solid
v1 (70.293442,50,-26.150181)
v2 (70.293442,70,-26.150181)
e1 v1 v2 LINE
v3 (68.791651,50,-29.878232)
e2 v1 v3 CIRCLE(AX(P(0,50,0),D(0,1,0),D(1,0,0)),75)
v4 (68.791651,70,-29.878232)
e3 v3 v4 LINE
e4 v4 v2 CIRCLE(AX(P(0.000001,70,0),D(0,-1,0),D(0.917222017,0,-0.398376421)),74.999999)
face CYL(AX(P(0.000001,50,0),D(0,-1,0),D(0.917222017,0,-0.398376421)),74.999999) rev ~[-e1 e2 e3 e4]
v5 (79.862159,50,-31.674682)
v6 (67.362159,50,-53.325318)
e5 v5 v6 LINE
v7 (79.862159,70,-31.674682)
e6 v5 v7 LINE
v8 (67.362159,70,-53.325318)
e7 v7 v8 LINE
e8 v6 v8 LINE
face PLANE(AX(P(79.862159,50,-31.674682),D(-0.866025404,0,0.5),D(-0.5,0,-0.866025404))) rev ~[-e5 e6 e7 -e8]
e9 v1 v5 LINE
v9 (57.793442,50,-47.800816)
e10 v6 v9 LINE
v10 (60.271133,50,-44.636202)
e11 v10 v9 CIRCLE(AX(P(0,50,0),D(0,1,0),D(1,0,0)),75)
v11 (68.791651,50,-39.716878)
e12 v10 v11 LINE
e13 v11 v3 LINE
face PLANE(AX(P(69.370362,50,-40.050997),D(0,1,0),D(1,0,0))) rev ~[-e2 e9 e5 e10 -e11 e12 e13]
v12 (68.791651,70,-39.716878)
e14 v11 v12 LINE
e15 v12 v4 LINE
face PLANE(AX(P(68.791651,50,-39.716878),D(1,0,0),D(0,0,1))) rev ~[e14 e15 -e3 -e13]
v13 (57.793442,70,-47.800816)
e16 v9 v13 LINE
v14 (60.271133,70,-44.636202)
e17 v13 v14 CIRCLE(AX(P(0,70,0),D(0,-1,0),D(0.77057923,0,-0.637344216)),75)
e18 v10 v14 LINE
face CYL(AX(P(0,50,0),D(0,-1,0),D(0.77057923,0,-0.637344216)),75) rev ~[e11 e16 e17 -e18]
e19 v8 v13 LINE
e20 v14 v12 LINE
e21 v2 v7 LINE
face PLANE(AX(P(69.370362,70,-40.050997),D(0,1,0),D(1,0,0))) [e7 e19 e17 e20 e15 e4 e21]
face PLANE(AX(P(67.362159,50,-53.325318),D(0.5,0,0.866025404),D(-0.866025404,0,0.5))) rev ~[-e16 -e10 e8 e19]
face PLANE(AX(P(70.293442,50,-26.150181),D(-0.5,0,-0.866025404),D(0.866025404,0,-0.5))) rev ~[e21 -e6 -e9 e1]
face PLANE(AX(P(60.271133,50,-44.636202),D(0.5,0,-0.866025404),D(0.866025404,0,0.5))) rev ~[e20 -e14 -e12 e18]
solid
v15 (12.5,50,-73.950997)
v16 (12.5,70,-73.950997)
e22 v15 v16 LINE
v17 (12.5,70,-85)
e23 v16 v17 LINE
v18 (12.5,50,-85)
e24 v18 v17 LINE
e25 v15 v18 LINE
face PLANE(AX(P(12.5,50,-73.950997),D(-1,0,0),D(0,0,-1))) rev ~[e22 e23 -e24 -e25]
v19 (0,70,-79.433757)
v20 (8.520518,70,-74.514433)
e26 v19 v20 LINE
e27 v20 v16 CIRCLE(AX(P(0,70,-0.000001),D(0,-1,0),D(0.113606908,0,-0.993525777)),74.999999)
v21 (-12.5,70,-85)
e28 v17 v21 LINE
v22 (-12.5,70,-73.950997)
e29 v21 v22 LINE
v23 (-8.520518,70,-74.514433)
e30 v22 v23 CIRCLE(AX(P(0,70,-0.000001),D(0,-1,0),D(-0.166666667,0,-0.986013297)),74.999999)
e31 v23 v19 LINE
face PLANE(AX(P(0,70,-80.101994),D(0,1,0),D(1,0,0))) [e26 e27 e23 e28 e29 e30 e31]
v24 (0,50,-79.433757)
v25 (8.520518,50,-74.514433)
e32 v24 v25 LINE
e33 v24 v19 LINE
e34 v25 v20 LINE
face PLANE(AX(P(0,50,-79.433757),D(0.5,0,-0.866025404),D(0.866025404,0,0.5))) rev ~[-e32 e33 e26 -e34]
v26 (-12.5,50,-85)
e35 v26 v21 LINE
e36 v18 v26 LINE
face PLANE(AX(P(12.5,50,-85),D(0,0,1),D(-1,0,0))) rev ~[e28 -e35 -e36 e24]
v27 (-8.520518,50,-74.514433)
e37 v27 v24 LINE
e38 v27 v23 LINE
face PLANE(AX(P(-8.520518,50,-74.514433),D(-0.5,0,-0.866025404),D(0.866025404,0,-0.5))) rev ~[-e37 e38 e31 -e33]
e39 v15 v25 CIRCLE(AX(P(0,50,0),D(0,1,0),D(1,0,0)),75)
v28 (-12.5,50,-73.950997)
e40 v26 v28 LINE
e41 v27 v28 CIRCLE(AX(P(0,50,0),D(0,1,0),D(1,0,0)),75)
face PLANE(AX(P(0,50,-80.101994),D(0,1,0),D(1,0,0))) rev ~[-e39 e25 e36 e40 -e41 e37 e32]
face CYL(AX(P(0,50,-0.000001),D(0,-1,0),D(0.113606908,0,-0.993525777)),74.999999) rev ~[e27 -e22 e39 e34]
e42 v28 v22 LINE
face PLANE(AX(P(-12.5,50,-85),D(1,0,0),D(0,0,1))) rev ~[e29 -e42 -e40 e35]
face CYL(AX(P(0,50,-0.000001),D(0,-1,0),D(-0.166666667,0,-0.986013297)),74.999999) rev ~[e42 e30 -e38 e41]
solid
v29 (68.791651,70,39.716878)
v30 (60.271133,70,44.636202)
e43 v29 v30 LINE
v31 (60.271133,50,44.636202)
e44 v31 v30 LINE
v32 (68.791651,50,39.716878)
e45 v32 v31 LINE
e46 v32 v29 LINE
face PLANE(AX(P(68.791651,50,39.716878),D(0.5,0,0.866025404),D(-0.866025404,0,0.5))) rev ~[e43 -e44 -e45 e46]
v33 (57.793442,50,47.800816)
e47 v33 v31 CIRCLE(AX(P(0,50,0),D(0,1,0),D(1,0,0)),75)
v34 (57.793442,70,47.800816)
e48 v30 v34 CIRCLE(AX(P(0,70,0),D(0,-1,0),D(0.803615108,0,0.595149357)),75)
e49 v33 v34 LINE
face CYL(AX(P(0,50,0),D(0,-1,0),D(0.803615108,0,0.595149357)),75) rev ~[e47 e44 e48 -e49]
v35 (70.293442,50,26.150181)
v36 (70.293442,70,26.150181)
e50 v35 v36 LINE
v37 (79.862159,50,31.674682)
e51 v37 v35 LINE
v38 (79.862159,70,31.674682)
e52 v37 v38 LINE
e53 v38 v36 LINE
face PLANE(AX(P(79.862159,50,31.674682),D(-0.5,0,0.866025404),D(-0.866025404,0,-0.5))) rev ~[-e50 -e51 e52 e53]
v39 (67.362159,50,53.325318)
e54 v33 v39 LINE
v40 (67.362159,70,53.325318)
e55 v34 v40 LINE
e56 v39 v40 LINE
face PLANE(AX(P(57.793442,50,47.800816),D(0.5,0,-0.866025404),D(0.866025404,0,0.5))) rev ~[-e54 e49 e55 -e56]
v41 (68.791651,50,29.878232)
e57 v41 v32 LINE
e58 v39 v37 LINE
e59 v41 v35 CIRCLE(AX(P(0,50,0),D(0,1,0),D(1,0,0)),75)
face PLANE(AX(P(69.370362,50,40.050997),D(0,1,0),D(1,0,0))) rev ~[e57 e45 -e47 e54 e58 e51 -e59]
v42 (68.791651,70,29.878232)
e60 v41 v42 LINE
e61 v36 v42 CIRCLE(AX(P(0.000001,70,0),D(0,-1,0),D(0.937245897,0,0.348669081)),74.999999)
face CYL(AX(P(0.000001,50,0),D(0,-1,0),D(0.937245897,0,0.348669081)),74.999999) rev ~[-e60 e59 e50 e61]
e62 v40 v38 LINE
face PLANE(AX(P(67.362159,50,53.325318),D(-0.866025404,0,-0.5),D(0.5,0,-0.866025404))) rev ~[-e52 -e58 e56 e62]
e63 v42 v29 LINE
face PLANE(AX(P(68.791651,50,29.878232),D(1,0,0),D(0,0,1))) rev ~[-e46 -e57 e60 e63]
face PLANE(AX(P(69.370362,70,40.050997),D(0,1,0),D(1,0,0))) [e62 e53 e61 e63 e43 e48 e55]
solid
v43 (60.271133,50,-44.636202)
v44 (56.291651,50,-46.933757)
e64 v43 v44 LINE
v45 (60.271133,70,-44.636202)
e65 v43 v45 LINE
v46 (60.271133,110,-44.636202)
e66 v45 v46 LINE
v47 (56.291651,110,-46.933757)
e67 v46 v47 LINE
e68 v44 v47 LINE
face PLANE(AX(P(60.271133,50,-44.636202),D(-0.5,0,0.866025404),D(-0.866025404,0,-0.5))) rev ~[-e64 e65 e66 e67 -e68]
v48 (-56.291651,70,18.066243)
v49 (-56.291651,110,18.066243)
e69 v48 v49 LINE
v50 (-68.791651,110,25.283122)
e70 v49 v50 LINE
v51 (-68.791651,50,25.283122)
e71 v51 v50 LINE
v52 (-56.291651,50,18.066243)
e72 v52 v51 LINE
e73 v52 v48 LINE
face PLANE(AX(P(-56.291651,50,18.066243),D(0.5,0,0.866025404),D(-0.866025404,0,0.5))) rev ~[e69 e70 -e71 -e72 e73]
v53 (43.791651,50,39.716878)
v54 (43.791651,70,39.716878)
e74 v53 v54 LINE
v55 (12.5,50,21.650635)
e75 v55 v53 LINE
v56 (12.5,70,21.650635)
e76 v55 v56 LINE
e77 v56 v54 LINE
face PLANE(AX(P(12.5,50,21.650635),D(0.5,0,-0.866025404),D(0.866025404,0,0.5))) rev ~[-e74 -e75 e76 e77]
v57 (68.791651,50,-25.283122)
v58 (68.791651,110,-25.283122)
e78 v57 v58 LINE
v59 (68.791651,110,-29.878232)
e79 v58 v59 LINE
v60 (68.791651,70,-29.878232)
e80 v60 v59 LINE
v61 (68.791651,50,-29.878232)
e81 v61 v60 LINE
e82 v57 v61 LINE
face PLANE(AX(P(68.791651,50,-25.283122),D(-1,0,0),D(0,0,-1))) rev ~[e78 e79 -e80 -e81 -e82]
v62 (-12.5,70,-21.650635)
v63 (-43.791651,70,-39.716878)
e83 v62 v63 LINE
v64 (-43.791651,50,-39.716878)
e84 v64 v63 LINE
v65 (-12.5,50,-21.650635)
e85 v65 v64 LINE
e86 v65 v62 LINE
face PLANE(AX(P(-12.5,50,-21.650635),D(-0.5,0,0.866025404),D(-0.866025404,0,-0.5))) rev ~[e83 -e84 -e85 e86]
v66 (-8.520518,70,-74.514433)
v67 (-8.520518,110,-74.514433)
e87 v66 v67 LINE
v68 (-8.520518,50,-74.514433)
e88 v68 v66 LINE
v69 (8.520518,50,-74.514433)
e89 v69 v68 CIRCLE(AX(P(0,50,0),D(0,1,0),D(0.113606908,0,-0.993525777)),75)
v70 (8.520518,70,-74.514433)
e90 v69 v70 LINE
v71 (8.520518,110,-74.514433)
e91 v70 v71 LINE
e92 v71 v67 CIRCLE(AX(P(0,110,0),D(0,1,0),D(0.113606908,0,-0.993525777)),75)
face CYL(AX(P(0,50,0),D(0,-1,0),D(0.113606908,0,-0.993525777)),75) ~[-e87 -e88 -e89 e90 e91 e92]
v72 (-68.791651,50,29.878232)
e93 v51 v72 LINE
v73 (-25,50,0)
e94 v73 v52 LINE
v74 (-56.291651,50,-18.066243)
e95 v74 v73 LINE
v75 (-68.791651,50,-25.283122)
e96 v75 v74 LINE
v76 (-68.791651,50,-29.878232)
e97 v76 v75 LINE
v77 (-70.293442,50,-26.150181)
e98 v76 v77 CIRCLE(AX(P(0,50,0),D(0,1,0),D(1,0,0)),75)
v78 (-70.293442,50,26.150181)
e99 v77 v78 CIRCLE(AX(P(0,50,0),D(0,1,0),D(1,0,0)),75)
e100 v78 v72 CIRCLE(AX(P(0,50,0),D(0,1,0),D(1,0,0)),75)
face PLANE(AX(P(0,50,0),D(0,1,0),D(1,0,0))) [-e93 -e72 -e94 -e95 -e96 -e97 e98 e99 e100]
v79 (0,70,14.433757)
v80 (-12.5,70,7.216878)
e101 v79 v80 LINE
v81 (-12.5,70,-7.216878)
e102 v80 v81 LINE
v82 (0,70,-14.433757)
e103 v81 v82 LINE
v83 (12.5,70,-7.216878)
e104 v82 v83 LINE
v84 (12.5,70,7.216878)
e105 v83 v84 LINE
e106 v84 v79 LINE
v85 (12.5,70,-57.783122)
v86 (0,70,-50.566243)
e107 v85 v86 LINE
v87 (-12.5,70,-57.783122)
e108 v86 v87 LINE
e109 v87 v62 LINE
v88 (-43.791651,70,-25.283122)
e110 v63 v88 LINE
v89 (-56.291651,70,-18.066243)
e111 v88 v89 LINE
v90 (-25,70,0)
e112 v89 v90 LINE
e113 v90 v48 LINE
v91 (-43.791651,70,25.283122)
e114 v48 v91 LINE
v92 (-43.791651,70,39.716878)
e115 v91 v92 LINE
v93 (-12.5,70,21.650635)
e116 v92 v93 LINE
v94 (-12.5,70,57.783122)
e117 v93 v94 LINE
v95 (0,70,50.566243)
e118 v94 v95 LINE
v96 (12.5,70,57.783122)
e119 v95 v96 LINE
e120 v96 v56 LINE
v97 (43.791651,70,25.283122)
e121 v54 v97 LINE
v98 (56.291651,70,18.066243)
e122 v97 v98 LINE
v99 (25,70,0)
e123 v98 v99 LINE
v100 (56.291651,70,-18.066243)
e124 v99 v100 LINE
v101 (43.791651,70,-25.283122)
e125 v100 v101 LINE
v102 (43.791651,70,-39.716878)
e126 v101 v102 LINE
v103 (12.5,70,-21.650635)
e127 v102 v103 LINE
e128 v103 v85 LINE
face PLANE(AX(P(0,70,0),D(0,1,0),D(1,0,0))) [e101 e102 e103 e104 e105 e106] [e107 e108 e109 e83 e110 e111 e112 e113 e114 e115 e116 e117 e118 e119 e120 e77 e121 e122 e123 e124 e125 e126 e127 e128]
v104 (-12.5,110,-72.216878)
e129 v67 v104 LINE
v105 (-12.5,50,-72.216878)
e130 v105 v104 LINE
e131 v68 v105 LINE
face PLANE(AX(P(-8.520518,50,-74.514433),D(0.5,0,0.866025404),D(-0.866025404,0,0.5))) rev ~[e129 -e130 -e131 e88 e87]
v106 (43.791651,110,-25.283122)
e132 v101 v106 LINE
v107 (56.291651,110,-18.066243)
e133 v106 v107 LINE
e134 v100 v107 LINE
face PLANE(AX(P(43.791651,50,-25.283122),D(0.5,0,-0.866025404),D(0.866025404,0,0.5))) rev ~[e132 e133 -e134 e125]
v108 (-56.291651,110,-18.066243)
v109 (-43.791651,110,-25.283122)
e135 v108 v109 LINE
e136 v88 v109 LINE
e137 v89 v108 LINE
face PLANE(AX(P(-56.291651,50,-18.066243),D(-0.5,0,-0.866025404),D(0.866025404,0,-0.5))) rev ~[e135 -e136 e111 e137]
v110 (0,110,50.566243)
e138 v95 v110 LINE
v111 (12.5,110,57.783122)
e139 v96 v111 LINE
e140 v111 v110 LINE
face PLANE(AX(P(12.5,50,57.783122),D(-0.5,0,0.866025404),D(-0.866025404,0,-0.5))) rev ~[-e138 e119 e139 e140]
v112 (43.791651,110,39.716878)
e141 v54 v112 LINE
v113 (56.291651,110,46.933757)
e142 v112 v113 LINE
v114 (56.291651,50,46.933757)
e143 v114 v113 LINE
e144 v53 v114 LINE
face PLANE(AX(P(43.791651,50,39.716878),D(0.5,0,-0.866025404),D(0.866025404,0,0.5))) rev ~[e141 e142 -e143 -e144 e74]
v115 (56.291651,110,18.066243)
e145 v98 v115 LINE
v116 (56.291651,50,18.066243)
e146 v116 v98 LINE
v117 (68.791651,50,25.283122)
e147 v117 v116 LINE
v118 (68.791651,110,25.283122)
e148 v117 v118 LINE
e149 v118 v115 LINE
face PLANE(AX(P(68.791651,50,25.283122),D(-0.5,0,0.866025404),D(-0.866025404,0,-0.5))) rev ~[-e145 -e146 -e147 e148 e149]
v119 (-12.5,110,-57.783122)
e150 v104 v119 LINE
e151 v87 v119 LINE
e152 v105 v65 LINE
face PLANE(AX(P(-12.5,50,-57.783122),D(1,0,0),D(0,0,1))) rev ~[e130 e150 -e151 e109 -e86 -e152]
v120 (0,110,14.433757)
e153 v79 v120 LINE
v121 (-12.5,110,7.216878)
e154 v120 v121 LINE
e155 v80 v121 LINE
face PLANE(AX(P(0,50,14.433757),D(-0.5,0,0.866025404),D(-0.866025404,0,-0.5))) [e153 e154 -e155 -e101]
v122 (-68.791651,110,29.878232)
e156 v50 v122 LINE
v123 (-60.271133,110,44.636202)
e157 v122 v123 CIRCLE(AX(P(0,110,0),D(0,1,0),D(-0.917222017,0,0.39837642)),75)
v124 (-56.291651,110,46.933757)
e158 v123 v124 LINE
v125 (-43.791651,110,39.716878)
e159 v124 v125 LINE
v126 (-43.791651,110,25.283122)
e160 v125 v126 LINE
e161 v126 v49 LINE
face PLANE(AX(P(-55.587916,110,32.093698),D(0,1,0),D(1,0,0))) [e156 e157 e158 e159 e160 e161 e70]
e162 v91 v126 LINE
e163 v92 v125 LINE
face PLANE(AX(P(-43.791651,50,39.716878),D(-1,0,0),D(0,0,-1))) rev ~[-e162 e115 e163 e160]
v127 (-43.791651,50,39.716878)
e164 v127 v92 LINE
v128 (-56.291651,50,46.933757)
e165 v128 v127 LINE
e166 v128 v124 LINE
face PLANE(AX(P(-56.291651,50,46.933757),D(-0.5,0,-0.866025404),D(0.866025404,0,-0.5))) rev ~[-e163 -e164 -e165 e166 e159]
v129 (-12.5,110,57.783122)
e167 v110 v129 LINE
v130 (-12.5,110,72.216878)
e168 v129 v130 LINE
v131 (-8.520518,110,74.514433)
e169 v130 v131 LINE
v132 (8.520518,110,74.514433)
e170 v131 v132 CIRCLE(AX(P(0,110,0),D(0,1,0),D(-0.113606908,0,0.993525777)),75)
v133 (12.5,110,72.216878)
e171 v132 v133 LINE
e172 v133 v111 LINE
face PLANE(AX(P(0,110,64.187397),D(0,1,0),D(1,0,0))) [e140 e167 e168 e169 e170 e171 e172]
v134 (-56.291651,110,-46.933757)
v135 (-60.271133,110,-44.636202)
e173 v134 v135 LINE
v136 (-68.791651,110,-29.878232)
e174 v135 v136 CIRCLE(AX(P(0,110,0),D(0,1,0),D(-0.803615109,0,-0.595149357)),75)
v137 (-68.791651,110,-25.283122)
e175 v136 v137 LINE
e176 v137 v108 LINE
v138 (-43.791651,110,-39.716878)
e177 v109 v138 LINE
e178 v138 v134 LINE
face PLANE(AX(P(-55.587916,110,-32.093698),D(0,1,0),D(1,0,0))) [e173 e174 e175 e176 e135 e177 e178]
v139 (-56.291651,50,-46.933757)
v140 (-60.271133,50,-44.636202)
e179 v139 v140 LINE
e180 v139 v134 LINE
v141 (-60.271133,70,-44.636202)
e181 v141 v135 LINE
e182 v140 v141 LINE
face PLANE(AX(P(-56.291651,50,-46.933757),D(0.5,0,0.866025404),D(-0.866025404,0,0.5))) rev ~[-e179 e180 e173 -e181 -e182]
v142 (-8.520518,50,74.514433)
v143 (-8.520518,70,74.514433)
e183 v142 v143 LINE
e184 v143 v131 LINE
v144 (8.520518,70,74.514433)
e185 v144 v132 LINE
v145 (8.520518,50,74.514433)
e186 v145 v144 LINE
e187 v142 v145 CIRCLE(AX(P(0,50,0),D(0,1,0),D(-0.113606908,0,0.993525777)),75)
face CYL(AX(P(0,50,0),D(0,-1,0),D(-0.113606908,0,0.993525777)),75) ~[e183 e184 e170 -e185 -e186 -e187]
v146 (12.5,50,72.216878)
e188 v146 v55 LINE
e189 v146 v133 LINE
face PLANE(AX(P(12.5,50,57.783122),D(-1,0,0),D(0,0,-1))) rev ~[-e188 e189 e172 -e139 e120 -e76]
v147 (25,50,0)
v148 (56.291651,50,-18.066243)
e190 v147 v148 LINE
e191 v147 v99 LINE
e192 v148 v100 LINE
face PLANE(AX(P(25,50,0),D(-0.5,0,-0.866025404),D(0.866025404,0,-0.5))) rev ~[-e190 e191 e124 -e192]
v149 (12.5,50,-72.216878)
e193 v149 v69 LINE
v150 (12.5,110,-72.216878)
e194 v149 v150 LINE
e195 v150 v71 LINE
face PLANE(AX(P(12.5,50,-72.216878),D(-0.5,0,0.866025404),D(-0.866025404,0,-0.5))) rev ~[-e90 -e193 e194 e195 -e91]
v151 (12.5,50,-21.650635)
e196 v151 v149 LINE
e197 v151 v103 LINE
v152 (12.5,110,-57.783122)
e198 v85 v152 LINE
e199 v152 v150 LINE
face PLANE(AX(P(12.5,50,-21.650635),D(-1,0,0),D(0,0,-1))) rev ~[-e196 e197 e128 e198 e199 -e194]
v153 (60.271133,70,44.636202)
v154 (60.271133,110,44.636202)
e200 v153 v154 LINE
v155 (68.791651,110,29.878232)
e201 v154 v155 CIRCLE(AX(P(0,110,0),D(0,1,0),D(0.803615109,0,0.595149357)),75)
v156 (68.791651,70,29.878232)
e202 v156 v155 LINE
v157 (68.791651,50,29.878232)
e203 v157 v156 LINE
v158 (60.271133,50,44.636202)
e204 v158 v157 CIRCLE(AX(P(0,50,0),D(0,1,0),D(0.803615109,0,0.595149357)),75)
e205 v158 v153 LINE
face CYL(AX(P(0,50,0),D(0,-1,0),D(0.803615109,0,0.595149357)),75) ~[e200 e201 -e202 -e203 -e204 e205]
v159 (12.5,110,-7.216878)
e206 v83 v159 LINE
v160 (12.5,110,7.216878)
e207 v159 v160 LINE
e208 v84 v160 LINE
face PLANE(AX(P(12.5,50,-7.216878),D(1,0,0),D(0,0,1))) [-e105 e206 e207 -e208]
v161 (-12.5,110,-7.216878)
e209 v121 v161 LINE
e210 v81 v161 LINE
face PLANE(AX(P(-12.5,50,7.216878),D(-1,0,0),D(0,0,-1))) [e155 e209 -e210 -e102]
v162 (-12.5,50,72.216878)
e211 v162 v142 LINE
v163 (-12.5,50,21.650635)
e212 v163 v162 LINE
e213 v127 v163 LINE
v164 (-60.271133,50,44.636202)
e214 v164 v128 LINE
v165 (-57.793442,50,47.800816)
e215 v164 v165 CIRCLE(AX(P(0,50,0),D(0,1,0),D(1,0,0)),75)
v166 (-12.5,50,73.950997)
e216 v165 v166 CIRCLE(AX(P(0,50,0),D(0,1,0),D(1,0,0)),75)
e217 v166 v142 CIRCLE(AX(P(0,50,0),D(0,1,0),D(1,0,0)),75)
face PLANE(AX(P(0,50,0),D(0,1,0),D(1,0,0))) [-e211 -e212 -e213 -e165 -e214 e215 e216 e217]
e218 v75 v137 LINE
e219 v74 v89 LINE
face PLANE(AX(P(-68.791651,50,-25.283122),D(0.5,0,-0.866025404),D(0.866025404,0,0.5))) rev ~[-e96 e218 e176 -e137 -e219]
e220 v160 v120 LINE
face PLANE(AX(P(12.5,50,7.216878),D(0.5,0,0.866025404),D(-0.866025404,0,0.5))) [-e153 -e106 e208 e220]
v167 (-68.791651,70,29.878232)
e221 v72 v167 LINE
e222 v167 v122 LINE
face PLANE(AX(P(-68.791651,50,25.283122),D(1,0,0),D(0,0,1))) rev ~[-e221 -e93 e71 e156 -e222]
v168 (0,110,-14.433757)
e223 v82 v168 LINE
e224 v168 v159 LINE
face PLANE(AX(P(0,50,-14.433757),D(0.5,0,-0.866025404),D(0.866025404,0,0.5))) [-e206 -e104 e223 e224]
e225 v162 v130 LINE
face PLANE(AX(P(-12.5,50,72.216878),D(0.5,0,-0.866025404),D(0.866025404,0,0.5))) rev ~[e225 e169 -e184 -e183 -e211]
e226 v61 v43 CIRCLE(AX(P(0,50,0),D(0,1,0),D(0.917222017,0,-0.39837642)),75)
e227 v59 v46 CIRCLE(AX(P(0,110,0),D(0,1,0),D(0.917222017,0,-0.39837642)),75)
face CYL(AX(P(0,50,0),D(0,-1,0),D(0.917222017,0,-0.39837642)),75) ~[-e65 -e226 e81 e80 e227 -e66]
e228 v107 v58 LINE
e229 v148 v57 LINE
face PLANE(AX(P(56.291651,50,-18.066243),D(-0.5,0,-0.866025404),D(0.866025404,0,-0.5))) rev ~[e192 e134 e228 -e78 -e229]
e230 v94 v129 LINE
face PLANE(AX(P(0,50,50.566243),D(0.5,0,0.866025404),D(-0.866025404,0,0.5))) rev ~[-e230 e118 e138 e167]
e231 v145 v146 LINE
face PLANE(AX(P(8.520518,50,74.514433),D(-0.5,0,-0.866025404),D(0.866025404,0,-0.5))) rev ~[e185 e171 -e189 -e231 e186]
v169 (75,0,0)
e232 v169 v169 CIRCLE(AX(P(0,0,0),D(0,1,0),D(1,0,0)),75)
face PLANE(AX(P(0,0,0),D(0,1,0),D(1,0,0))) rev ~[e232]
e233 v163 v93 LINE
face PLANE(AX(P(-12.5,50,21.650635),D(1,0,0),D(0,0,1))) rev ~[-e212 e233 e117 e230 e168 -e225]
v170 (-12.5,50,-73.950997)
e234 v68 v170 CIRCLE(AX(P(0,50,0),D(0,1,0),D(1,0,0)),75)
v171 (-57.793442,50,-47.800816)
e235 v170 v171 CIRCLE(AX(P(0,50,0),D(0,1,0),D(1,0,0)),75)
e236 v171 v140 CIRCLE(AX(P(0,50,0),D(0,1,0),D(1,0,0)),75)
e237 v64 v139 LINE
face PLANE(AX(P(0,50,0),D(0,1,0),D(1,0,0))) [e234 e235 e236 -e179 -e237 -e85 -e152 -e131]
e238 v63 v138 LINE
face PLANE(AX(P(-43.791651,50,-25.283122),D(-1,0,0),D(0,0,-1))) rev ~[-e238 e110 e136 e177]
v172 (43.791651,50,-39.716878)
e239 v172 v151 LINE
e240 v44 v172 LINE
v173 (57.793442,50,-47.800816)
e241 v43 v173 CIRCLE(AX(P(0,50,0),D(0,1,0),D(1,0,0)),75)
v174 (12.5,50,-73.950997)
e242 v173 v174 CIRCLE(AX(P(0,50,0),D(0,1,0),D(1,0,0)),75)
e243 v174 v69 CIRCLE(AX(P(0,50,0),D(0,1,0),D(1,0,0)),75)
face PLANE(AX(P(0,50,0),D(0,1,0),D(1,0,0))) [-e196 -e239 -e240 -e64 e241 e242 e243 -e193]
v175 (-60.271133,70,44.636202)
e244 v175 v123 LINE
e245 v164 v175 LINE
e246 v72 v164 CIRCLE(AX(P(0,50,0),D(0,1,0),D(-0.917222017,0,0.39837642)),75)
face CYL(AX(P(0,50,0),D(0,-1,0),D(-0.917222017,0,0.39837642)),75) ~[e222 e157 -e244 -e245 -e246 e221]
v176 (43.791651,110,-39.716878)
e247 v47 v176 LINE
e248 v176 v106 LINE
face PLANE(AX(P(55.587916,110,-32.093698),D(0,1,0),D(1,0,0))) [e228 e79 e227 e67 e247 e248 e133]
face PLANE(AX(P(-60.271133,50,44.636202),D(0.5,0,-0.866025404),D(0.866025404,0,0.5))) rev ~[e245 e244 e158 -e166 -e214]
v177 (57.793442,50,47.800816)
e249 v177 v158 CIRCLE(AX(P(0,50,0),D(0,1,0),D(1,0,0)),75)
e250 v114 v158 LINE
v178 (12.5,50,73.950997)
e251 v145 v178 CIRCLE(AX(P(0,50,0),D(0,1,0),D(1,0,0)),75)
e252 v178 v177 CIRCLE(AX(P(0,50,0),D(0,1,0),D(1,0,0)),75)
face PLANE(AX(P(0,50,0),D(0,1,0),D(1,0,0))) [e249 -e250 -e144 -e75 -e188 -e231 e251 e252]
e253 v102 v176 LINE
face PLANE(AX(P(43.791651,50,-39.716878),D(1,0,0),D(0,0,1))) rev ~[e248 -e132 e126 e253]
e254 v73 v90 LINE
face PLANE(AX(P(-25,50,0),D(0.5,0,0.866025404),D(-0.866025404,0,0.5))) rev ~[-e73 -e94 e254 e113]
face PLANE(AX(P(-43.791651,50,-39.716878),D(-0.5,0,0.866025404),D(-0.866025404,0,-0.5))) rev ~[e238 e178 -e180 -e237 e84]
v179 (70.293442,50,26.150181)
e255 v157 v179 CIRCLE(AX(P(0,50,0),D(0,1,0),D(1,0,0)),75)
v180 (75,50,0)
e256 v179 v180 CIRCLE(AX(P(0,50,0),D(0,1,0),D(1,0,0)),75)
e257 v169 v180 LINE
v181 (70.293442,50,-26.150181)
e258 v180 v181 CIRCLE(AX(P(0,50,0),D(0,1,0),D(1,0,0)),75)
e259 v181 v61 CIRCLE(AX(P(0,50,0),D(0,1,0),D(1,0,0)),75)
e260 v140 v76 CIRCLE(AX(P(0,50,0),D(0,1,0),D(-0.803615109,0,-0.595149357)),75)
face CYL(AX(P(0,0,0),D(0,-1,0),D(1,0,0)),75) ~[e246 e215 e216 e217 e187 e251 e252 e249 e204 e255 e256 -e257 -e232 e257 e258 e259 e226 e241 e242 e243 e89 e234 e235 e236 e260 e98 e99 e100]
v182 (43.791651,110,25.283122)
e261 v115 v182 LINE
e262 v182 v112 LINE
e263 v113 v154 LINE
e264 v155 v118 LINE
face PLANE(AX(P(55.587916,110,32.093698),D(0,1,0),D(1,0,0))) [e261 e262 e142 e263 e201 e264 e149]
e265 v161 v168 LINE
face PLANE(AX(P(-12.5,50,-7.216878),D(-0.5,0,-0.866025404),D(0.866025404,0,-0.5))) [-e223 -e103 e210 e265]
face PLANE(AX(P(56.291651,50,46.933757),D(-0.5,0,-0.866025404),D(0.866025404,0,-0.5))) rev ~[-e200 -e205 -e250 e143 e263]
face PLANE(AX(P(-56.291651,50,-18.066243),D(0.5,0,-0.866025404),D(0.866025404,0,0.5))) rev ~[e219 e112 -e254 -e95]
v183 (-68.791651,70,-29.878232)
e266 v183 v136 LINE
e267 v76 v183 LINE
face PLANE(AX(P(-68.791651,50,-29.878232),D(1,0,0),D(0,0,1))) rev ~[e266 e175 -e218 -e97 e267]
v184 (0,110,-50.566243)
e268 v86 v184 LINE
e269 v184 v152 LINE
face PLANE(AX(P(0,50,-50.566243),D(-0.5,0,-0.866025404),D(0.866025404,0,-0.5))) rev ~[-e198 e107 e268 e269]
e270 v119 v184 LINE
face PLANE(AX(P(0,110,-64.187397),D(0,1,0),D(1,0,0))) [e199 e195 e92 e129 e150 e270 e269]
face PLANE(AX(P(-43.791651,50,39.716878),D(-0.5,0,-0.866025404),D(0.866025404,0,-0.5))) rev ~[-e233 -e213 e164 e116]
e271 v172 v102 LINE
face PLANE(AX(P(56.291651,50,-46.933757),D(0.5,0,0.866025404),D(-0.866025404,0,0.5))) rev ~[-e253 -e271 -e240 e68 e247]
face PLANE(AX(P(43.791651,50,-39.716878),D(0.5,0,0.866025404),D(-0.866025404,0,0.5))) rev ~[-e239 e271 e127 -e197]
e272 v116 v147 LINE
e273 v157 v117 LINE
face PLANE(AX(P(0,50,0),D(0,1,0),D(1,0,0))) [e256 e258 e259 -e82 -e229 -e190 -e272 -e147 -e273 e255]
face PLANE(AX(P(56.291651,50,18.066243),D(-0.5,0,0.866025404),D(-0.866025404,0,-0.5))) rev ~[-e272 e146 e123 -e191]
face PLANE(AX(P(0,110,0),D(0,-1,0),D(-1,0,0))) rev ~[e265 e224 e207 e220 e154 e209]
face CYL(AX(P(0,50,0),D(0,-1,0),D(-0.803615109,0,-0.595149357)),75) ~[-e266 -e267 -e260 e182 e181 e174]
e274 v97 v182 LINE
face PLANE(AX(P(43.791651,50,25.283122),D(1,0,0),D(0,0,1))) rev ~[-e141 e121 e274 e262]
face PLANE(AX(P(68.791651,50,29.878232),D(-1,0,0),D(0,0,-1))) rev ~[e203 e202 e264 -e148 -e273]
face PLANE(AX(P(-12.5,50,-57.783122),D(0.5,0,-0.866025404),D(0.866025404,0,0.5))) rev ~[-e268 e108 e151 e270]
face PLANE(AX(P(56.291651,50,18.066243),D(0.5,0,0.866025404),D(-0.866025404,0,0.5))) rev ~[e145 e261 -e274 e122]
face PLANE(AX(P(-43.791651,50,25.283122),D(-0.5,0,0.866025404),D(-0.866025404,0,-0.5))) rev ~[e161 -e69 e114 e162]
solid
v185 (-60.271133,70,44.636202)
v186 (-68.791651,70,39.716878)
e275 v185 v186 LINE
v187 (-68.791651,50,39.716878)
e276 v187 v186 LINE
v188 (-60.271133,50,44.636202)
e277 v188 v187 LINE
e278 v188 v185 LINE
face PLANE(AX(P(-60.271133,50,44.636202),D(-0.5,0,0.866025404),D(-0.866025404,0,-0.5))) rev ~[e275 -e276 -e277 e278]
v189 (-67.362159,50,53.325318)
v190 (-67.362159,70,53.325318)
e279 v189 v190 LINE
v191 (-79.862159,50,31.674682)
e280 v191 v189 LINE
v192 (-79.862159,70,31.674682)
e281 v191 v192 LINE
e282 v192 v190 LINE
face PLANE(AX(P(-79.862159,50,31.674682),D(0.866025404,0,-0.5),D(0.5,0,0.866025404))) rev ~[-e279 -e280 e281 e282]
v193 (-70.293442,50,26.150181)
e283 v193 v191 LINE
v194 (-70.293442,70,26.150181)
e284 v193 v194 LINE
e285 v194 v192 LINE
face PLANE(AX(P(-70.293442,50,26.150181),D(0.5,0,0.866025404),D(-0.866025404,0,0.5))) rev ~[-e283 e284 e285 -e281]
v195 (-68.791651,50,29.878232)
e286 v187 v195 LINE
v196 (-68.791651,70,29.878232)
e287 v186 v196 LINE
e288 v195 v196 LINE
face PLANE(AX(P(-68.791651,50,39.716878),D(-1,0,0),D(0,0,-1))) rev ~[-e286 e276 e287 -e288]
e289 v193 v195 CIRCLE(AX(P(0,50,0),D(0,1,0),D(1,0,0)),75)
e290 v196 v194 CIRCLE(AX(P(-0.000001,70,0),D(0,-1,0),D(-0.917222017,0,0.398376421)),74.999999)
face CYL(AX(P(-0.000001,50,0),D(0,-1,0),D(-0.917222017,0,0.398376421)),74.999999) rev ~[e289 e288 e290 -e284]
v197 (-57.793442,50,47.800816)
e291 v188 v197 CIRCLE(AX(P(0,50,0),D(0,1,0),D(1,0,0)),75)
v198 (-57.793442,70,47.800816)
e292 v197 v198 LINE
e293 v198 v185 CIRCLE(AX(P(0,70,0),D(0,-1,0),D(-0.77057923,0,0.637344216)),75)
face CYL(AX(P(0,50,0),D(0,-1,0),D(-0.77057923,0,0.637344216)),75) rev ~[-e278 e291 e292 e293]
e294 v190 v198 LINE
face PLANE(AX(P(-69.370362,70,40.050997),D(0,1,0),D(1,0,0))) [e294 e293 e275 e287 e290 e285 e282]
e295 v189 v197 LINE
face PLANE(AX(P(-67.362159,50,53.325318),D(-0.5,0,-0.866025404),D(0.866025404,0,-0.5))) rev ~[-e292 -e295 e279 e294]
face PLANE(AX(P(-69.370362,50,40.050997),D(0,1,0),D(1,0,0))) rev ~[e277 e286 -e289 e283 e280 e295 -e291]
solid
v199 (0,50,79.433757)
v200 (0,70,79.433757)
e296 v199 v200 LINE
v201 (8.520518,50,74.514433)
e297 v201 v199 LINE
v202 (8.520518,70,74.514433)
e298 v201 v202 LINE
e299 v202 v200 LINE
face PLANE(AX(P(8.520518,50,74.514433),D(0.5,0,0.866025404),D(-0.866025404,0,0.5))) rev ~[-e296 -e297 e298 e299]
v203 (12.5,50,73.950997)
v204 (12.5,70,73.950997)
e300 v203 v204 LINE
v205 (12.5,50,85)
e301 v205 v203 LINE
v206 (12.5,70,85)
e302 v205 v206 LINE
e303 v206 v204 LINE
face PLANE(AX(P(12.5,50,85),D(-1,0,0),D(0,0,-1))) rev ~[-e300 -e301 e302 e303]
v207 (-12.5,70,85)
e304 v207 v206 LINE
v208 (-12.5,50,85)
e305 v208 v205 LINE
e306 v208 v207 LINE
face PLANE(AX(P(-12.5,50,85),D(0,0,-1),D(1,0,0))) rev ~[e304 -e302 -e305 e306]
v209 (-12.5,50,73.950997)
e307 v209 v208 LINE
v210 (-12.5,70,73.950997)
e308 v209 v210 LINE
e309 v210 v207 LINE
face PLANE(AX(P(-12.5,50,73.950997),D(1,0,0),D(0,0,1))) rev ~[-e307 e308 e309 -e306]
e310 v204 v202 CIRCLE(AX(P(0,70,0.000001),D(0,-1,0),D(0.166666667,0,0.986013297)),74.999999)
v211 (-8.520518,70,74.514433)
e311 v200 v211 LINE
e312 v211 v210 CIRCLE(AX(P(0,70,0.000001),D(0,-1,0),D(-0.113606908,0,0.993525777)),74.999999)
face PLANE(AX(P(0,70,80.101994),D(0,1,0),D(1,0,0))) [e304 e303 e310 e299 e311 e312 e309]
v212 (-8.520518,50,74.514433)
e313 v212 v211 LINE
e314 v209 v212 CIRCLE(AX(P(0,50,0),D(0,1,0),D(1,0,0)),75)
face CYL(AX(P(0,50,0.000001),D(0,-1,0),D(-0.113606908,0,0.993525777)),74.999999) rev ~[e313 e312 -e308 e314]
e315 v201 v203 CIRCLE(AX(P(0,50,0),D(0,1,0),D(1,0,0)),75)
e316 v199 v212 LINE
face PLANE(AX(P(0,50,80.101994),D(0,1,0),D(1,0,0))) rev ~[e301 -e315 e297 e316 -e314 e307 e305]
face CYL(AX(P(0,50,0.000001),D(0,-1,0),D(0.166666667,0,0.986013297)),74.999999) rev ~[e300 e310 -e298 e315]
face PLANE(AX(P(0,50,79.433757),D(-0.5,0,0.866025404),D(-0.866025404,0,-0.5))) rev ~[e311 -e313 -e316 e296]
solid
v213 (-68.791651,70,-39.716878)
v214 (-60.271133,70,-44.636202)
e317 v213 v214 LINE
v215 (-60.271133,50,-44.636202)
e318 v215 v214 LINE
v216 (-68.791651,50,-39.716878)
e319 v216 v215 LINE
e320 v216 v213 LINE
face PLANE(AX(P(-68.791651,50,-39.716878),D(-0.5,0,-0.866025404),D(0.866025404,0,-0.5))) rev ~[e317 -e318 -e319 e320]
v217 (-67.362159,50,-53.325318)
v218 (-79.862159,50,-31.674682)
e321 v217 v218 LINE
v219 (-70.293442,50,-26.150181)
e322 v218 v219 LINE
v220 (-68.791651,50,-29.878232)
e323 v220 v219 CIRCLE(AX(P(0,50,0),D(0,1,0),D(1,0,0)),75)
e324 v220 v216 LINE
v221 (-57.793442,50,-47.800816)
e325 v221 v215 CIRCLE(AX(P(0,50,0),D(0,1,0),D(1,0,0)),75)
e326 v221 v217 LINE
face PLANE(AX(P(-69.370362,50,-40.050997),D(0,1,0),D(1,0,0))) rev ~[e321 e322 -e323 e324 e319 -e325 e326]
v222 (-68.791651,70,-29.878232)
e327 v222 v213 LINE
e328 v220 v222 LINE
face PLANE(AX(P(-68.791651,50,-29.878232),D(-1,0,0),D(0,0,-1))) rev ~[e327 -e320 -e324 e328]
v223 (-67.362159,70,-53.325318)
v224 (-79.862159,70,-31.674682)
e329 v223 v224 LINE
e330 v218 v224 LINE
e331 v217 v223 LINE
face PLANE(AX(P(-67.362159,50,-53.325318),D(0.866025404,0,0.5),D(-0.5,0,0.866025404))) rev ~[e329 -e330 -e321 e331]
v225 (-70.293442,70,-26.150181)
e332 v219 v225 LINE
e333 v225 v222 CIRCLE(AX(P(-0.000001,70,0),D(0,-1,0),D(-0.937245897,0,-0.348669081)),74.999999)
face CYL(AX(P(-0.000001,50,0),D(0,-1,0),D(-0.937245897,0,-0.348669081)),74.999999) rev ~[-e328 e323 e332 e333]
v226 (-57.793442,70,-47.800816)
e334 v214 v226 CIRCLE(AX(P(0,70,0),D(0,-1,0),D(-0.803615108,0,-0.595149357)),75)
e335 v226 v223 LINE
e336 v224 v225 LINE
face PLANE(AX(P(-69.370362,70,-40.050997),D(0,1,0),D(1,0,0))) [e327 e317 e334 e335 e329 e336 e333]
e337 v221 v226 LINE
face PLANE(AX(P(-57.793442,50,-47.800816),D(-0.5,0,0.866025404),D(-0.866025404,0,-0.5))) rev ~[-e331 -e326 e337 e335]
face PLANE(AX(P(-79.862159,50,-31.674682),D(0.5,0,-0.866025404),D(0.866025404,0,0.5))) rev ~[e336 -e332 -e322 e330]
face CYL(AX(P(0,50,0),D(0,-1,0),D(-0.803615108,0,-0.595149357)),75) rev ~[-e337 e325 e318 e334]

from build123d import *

# Parameters (mm, degrees)
SKETCH1_R           = 75
BOSS_EXTRUDE1_DEPTH = 50
BOSS_EXTRUDE2_DEPTH = 60
BOSS_EXTRUDE3_DEPTH = 20


with BuildPart() as part:
    # Sketch1 → Boss-Extrude1 (new body)
    with BuildSketch(Plane(origin=(0, 0, 0), x_dir=(1, 0, 0), z_dir=(0, 1, 0))):
        Circle(SKETCH1_R)
    extrude(amount=BOSS_EXTRUDE1_DEPTH)

    # Sketch2 → Boss-Extrude2 (add)
    with BuildSketch(Plane(origin=(0, 50, 0), x_dir=(1, 0, 0), z_dir=(0, 1, 0))):
        with BuildLine():
            Line((68.791651246, -29.878231521), (68.791651246, -25.283121635))
            Line((68.791651246, -25.283121635), (56.291651246, -18.06624327))
            Line((56.291651246, -18.06624327), (43.791651246, -25.283121635))
            Line((43.791651246, -25.283121635), (43.791651246, -39.716878365))
            Line((43.791651246, -39.716878365), (56.291651246, -46.93375673))
            Line((56.291651246, -46.93375673), (60.271133141, -44.636201787))
            ThreePointArc((60.271133141, -44.636201787), (64.951905284, -37.5), (68.791651246, -29.878231521))
        make_face()
        with BuildLine():
            Line((43.791651246, 25.283121635), (56.291651246, 18.06624327))
            Line((56.291651246, 18.06624327), (68.791651246, 25.283121635))
            Line((68.791651246, 25.283121635), (68.791651246, 29.878231521))
            ThreePointArc((68.791651246, 29.878231521), (64.951905284, 37.5), (60.271133141, 44.636201787))
            Line((60.271133141, 44.636201787), (56.291651246, 46.93375673))
            Line((56.291651246, 46.93375673), (43.791651246, 39.716878365))
            Line((43.791651246, 39.716878365), (43.791651246, 25.283121635))
        make_face()
        with BuildLine():
            Line((12.5, -72.216878365), (12.5, -57.783121635))
            Line((12.5, -57.783121635), (0, -50.56624327))
            Line((0, -50.56624327), (-12.5, -57.783121635))
            Line((-12.5, -57.783121635), (-12.5, -72.216878365))
            Line((-12.5, -72.216878365), (-8.520518105, -74.514433308))
            ThreePointArc((-8.520518105, -74.514433308), (0, -75), (8.520518105, -74.514433308))
            Line((8.520518105, -74.514433308), (12.5, -72.216878365))
        make_face()
        with BuildLine():
            Line((0, 50.56624327), (12.5, 57.783121635))
            Line((12.5, 57.783121635), (12.5, 72.216878365))
            Line((12.5, 72.216878365), (8.520518105, 74.514433308))
            ThreePointArc((8.520518105, 74.514433308), (0, 75), (-8.520518105, 74.514433308))
            Line((-8.520518105, 74.514433308), (-12.5, 72.216878365))
            Line((-12.5, 72.216878365), (-12.5, 57.783121635))
            Line((-12.5, 57.783121635), (0, 50.56624327))
        make_face()
        with BuildLine():
            Line((-56.291651246, -46.93375673), (-43.791651246, -39.716878365))
            Line((-43.791651246, -39.716878365), (-43.791651246, -25.283121635))
            Line((-43.791651246, -25.283121635), (-56.291651246, -18.06624327))
            Line((-56.291651246, -18.06624327), (-68.791651246, -25.283121635))
            Line((-68.791651246, -25.283121635), (-68.791651246, -29.878231521))
            ThreePointArc((-68.791651246, -29.878231521), (-64.951905284, -37.5), (-60.271133141, -44.636201787))
            Line((-60.271133141, -44.636201787), (-56.291651246, -46.93375673))
        make_face()
        with BuildLine():
            Line((-43.791651246, 25.283121635), (-43.791651246, 39.716878365))
            Line((-43.791651246, 39.716878365), (-56.291651246, 46.93375673))
            Line((-56.291651246, 46.93375673), (-60.271133141, 44.636201787))
            ThreePointArc((-60.271133141, 44.636201787), (-64.951905284, 37.5), (-68.791651246, 29.878231521))
            Line((-68.791651246, 29.878231521), (-68.791651246, 25.283121635))
            Line((-68.791651246, 25.283121635), (-56.291651246, 18.06624327))
            Line((-56.291651246, 18.06624327), (-43.791651246, 25.283121635))
        make_face()
        Polygon((0, 14.43375673), (-12.5, 7.216878365), (-12.5, -7.216878365), (0, -14.43375673), (12.5, -7.216878365), (12.5, 7.216878365), align=None)
    extrude(amount=BOSS_EXTRUDE2_DEPTH)

    # Sketch2_3 → Boss-Extrude3 (add)
    # profile 1 of 7: a face of its own
    with BuildSketch(Plane(origin=(0, 50, 0), x_dir=(1, 0, 0), z_dir=(0, 1, 0))):
        Polygon((43.791651246, -25.283121635), (56.291651246, -18.06624327), (25, 0), (56.291651246, 18.06624327), (43.791651246, 25.283121635), (43.791651246, 39.716878365), (12.5, 21.650635095), (12.5, 57.783121635), (0, 50.56624327), (-12.5, 57.783121635), (-12.5, 21.650635095), (-43.791651246, 39.716878365), (-43.791651246, 25.283121635), (-56.291651246, 18.06624327), (-25, 0), (-56.291651246, -18.06624327), (-43.791651246, -25.283121635), (-43.791651246, -39.716878365), (-12.5, -21.650635095), (-12.5, -57.783121635), (0, -50.56624327), (12.5, -57.783121635), (12.5, -21.650635095), (43.791651246, -39.716878365), align=None)
        Polygon((-12.5, -7.216878365), (-12.5, 7.216878365), (0, 14.43375673), (12.5, 7.216878365), (12.5, -7.216878365), (0, -14.43375673), align=None, mode=Mode.SUBTRACT)
    # profile 2 of 7: a face of its own
    with BuildSketch(Plane(origin=(0, 50, 0), x_dir=(1, 0, 0), z_dir=(0, 1, 0))):
        with BuildLine():
            Line((79.862159322, -31.674682453), (70.293442287, -26.150181097))
            ThreePointArc((70.293442287, -26.150181097), (69.567524038, -28.024268041), (68.791651246, -29.878231521))
            Line((68.791651246, -29.878231521), (68.791651246, -39.716878365))
            Line((68.791651246, -39.716878365), (60.271133141, -44.636201787))
            ThreePointArc((60.271133141, -44.636201787), (59.053490065, -46.235109075), (57.793442287, -47.800816192))
            Line((57.793442287, -47.800816192), (67.362159322, -53.325317547))
            Line((67.362159322, -53.325317547), (79.862159322, -31.674682453))
        make_face()
    # profile 3 of 7: a face of its own
    with BuildSketch(Plane(origin=(0, 50, 0), x_dir=(1, 0, 0), z_dir=(0, 1, 0))):
        with BuildLine():
            ThreePointArc((68.791651246, 29.878231521), (69.567524038, 28.024268041), (70.293442287, 26.150181097))
            Line((70.293442287, 26.150181097), (79.862159322, 31.674682453))
            Line((79.862159322, 31.674682453), (67.362159322, 53.325317547))
            Line((67.362159322, 53.325317547), (57.793442287, 47.800816192))
            ThreePointArc((57.793442287, 47.800816192), (59.053490065, 46.235109075), (60.271133141, 44.636201787))
            Line((60.271133141, 44.636201787), (68.791651246, 39.716878365))
            Line((68.791651246, 39.716878365), (68.791651246, 29.878231521))
        make_face()
    # profile 4 of 7: a face of its own
    with BuildSketch(Plane(origin=(0, 50, 0), x_dir=(1, 0, 0), z_dir=(0, 1, 0))):
        with BuildLine():
            Line((12.5, -85), (12.5, -73.950997289))
            ThreePointArc((12.5, -73.950997289), (10.514033973, -74.259377116), (8.520518105, -74.514433308))
            Line((8.520518105, -74.514433308), (0, -79.43375673))
            Line((0, -79.43375673), (-8.520518105, -74.514433308))
            ThreePointArc((-8.520518105, -74.514433308), (-10.514033973, -74.259377116), (-12.5, -73.950997289))
            Line((-12.5, -73.950997289), (-12.5, -85))
            Line((-12.5, -85), (12.5, -85))
        make_face()
    # profile 5 of 7: a face of its own
    with BuildSketch(Plane(origin=(0, 50, 0), x_dir=(1, 0, 0), z_dir=(0, 1, 0))):
        with BuildLine():
            ThreePointArc((8.520518105, 74.514433308), (10.514033973, 74.259377116), (12.5, 73.950997289))
            Line((12.5, 73.950997289), (12.5, 85))
            Line((12.5, 85), (-12.5, 85))
            Line((-12.5, 85), (-12.5, 73.950997289))
            ThreePointArc((-12.5, 73.950997289), (-10.514033973, 74.259377116), (-8.520518105, 74.514433308))
            Line((-8.520518105, 74.514433308), (0, 79.43375673))
            Line((0, 79.43375673), (8.520518105, 74.514433308))
        make_face()
    # profile 6 of 7: a face of its own
    with BuildSketch(Plane(origin=(0, 50, 0), x_dir=(1, 0, 0), z_dir=(0, 1, 0))):
        with BuildLine():
            Line((-67.362159322, -53.325317547), (-57.793442287, -47.800816192))
            ThreePointArc((-57.793442287, -47.800816192), (-59.053490065, -46.235109075), (-60.271133141, -44.636201787))
            Line((-60.271133141, -44.636201787), (-68.791651246, -39.716878365))
            Line((-68.791651246, -39.716878365), (-68.791651246, -29.878231521))
            ThreePointArc((-68.791651246, -29.878231521), (-69.567524038, -28.024268041), (-70.293442287, -26.150181097))
            Line((-70.293442287, -26.150181097), (-79.862159322, -31.674682453))
            Line((-79.862159322, -31.674682453), (-67.362159322, -53.325317547))
        make_face()
    # profile 7 of 7: a face of its own
    with BuildSketch(Plane(origin=(0, 50, 0), x_dir=(1, 0, 0), z_dir=(0, 1, 0))):
        with BuildLine():
            ThreePointArc((-60.271133141, 44.636201787), (-59.053490065, 46.235109075), (-57.793442287, 47.800816192))
            Line((-57.793442287, 47.800816192), (-67.362159322, 53.325317547))
            Line((-67.362159322, 53.325317547), (-79.862159322, 31.674682453))
            Line((-79.862159322, 31.674682453), (-70.293442287, 26.150181097))
            ThreePointArc((-70.293442287, 26.150181097), (-69.567524038, 28.024268041), (-68.791651246, 29.878231521))
            Line((-68.791651246, 29.878231521), (-68.791651246, 39.716878365))
            Line((-68.791651246, 39.716878365), (-60.271133141, 44.636201787))
        make_face()
    extrude(amount=BOSS_EXTRUDE3_DEPTH)


with BuildPart() as boss_extrude3_piece_1:
    # of the separate pieces the step leaves, piece 1, a body of its own (boss_extrude3_pieces)
    add(part.part.solids().sort_by_distance((75, 50, 0))[0])


with BuildPart() as boss_extrude3_piece_2:
    # of the separate pieces the step leaves, piece 2, a body of its own (boss_extrude3_pieces)
    add(part.part.solids().sort_by_distance((57.793442287, 70, -47.800816192))[0])


with BuildPart() as boss_extrude3_piece_3:
    # of the separate pieces the step leaves, piece 3, a body of its own (boss_extrude3_pieces)
    add(part.part.solids().sort_by_distance((70.293442287, 70, 26.150181097))[0])


with BuildPart() as boss_extrude3_piece_4:
    # of the separate pieces the step leaves, piece 4, a body of its own (boss_extrude3_pieces)
    add(part.part.solids().sort_by_distance((-12.5, 70, -73.950997289))[0])


with BuildPart() as boss_extrude3_piece_5:
    # of the separate pieces the step leaves, piece 5, a body of its own (boss_extrude3_pieces)
    add(part.part.solids().sort_by_distance((12.5, 70, 73.950997289))[0])


with BuildPart() as boss_extrude3_piece_6:
    # of the separate pieces the step leaves, piece 6, a body of its own (boss_extrude3_pieces)
    add(part.part.solids().sort_by_distance((-70.293442287, 70, -26.150181097))[0])


with BuildPart() as boss_extrude3_piece_7:
    # of the separate pieces the step leaves, piece 7, a body of its own (boss_extrude3_pieces)
    add(part.part.solids().sort_by_distance((-57.793442287, 70, 47.800816192))[0])


solid = Compound([boss_extrude3_piece_1.part, boss_extrude3_piece_2.part, boss_extrude3_piece_3.part, boss_extrude3_piece_4.part, boss_extrude3_piece_5.part, boss_extrude3_piece_6.part, boss_extrude3_piece_7.part])
